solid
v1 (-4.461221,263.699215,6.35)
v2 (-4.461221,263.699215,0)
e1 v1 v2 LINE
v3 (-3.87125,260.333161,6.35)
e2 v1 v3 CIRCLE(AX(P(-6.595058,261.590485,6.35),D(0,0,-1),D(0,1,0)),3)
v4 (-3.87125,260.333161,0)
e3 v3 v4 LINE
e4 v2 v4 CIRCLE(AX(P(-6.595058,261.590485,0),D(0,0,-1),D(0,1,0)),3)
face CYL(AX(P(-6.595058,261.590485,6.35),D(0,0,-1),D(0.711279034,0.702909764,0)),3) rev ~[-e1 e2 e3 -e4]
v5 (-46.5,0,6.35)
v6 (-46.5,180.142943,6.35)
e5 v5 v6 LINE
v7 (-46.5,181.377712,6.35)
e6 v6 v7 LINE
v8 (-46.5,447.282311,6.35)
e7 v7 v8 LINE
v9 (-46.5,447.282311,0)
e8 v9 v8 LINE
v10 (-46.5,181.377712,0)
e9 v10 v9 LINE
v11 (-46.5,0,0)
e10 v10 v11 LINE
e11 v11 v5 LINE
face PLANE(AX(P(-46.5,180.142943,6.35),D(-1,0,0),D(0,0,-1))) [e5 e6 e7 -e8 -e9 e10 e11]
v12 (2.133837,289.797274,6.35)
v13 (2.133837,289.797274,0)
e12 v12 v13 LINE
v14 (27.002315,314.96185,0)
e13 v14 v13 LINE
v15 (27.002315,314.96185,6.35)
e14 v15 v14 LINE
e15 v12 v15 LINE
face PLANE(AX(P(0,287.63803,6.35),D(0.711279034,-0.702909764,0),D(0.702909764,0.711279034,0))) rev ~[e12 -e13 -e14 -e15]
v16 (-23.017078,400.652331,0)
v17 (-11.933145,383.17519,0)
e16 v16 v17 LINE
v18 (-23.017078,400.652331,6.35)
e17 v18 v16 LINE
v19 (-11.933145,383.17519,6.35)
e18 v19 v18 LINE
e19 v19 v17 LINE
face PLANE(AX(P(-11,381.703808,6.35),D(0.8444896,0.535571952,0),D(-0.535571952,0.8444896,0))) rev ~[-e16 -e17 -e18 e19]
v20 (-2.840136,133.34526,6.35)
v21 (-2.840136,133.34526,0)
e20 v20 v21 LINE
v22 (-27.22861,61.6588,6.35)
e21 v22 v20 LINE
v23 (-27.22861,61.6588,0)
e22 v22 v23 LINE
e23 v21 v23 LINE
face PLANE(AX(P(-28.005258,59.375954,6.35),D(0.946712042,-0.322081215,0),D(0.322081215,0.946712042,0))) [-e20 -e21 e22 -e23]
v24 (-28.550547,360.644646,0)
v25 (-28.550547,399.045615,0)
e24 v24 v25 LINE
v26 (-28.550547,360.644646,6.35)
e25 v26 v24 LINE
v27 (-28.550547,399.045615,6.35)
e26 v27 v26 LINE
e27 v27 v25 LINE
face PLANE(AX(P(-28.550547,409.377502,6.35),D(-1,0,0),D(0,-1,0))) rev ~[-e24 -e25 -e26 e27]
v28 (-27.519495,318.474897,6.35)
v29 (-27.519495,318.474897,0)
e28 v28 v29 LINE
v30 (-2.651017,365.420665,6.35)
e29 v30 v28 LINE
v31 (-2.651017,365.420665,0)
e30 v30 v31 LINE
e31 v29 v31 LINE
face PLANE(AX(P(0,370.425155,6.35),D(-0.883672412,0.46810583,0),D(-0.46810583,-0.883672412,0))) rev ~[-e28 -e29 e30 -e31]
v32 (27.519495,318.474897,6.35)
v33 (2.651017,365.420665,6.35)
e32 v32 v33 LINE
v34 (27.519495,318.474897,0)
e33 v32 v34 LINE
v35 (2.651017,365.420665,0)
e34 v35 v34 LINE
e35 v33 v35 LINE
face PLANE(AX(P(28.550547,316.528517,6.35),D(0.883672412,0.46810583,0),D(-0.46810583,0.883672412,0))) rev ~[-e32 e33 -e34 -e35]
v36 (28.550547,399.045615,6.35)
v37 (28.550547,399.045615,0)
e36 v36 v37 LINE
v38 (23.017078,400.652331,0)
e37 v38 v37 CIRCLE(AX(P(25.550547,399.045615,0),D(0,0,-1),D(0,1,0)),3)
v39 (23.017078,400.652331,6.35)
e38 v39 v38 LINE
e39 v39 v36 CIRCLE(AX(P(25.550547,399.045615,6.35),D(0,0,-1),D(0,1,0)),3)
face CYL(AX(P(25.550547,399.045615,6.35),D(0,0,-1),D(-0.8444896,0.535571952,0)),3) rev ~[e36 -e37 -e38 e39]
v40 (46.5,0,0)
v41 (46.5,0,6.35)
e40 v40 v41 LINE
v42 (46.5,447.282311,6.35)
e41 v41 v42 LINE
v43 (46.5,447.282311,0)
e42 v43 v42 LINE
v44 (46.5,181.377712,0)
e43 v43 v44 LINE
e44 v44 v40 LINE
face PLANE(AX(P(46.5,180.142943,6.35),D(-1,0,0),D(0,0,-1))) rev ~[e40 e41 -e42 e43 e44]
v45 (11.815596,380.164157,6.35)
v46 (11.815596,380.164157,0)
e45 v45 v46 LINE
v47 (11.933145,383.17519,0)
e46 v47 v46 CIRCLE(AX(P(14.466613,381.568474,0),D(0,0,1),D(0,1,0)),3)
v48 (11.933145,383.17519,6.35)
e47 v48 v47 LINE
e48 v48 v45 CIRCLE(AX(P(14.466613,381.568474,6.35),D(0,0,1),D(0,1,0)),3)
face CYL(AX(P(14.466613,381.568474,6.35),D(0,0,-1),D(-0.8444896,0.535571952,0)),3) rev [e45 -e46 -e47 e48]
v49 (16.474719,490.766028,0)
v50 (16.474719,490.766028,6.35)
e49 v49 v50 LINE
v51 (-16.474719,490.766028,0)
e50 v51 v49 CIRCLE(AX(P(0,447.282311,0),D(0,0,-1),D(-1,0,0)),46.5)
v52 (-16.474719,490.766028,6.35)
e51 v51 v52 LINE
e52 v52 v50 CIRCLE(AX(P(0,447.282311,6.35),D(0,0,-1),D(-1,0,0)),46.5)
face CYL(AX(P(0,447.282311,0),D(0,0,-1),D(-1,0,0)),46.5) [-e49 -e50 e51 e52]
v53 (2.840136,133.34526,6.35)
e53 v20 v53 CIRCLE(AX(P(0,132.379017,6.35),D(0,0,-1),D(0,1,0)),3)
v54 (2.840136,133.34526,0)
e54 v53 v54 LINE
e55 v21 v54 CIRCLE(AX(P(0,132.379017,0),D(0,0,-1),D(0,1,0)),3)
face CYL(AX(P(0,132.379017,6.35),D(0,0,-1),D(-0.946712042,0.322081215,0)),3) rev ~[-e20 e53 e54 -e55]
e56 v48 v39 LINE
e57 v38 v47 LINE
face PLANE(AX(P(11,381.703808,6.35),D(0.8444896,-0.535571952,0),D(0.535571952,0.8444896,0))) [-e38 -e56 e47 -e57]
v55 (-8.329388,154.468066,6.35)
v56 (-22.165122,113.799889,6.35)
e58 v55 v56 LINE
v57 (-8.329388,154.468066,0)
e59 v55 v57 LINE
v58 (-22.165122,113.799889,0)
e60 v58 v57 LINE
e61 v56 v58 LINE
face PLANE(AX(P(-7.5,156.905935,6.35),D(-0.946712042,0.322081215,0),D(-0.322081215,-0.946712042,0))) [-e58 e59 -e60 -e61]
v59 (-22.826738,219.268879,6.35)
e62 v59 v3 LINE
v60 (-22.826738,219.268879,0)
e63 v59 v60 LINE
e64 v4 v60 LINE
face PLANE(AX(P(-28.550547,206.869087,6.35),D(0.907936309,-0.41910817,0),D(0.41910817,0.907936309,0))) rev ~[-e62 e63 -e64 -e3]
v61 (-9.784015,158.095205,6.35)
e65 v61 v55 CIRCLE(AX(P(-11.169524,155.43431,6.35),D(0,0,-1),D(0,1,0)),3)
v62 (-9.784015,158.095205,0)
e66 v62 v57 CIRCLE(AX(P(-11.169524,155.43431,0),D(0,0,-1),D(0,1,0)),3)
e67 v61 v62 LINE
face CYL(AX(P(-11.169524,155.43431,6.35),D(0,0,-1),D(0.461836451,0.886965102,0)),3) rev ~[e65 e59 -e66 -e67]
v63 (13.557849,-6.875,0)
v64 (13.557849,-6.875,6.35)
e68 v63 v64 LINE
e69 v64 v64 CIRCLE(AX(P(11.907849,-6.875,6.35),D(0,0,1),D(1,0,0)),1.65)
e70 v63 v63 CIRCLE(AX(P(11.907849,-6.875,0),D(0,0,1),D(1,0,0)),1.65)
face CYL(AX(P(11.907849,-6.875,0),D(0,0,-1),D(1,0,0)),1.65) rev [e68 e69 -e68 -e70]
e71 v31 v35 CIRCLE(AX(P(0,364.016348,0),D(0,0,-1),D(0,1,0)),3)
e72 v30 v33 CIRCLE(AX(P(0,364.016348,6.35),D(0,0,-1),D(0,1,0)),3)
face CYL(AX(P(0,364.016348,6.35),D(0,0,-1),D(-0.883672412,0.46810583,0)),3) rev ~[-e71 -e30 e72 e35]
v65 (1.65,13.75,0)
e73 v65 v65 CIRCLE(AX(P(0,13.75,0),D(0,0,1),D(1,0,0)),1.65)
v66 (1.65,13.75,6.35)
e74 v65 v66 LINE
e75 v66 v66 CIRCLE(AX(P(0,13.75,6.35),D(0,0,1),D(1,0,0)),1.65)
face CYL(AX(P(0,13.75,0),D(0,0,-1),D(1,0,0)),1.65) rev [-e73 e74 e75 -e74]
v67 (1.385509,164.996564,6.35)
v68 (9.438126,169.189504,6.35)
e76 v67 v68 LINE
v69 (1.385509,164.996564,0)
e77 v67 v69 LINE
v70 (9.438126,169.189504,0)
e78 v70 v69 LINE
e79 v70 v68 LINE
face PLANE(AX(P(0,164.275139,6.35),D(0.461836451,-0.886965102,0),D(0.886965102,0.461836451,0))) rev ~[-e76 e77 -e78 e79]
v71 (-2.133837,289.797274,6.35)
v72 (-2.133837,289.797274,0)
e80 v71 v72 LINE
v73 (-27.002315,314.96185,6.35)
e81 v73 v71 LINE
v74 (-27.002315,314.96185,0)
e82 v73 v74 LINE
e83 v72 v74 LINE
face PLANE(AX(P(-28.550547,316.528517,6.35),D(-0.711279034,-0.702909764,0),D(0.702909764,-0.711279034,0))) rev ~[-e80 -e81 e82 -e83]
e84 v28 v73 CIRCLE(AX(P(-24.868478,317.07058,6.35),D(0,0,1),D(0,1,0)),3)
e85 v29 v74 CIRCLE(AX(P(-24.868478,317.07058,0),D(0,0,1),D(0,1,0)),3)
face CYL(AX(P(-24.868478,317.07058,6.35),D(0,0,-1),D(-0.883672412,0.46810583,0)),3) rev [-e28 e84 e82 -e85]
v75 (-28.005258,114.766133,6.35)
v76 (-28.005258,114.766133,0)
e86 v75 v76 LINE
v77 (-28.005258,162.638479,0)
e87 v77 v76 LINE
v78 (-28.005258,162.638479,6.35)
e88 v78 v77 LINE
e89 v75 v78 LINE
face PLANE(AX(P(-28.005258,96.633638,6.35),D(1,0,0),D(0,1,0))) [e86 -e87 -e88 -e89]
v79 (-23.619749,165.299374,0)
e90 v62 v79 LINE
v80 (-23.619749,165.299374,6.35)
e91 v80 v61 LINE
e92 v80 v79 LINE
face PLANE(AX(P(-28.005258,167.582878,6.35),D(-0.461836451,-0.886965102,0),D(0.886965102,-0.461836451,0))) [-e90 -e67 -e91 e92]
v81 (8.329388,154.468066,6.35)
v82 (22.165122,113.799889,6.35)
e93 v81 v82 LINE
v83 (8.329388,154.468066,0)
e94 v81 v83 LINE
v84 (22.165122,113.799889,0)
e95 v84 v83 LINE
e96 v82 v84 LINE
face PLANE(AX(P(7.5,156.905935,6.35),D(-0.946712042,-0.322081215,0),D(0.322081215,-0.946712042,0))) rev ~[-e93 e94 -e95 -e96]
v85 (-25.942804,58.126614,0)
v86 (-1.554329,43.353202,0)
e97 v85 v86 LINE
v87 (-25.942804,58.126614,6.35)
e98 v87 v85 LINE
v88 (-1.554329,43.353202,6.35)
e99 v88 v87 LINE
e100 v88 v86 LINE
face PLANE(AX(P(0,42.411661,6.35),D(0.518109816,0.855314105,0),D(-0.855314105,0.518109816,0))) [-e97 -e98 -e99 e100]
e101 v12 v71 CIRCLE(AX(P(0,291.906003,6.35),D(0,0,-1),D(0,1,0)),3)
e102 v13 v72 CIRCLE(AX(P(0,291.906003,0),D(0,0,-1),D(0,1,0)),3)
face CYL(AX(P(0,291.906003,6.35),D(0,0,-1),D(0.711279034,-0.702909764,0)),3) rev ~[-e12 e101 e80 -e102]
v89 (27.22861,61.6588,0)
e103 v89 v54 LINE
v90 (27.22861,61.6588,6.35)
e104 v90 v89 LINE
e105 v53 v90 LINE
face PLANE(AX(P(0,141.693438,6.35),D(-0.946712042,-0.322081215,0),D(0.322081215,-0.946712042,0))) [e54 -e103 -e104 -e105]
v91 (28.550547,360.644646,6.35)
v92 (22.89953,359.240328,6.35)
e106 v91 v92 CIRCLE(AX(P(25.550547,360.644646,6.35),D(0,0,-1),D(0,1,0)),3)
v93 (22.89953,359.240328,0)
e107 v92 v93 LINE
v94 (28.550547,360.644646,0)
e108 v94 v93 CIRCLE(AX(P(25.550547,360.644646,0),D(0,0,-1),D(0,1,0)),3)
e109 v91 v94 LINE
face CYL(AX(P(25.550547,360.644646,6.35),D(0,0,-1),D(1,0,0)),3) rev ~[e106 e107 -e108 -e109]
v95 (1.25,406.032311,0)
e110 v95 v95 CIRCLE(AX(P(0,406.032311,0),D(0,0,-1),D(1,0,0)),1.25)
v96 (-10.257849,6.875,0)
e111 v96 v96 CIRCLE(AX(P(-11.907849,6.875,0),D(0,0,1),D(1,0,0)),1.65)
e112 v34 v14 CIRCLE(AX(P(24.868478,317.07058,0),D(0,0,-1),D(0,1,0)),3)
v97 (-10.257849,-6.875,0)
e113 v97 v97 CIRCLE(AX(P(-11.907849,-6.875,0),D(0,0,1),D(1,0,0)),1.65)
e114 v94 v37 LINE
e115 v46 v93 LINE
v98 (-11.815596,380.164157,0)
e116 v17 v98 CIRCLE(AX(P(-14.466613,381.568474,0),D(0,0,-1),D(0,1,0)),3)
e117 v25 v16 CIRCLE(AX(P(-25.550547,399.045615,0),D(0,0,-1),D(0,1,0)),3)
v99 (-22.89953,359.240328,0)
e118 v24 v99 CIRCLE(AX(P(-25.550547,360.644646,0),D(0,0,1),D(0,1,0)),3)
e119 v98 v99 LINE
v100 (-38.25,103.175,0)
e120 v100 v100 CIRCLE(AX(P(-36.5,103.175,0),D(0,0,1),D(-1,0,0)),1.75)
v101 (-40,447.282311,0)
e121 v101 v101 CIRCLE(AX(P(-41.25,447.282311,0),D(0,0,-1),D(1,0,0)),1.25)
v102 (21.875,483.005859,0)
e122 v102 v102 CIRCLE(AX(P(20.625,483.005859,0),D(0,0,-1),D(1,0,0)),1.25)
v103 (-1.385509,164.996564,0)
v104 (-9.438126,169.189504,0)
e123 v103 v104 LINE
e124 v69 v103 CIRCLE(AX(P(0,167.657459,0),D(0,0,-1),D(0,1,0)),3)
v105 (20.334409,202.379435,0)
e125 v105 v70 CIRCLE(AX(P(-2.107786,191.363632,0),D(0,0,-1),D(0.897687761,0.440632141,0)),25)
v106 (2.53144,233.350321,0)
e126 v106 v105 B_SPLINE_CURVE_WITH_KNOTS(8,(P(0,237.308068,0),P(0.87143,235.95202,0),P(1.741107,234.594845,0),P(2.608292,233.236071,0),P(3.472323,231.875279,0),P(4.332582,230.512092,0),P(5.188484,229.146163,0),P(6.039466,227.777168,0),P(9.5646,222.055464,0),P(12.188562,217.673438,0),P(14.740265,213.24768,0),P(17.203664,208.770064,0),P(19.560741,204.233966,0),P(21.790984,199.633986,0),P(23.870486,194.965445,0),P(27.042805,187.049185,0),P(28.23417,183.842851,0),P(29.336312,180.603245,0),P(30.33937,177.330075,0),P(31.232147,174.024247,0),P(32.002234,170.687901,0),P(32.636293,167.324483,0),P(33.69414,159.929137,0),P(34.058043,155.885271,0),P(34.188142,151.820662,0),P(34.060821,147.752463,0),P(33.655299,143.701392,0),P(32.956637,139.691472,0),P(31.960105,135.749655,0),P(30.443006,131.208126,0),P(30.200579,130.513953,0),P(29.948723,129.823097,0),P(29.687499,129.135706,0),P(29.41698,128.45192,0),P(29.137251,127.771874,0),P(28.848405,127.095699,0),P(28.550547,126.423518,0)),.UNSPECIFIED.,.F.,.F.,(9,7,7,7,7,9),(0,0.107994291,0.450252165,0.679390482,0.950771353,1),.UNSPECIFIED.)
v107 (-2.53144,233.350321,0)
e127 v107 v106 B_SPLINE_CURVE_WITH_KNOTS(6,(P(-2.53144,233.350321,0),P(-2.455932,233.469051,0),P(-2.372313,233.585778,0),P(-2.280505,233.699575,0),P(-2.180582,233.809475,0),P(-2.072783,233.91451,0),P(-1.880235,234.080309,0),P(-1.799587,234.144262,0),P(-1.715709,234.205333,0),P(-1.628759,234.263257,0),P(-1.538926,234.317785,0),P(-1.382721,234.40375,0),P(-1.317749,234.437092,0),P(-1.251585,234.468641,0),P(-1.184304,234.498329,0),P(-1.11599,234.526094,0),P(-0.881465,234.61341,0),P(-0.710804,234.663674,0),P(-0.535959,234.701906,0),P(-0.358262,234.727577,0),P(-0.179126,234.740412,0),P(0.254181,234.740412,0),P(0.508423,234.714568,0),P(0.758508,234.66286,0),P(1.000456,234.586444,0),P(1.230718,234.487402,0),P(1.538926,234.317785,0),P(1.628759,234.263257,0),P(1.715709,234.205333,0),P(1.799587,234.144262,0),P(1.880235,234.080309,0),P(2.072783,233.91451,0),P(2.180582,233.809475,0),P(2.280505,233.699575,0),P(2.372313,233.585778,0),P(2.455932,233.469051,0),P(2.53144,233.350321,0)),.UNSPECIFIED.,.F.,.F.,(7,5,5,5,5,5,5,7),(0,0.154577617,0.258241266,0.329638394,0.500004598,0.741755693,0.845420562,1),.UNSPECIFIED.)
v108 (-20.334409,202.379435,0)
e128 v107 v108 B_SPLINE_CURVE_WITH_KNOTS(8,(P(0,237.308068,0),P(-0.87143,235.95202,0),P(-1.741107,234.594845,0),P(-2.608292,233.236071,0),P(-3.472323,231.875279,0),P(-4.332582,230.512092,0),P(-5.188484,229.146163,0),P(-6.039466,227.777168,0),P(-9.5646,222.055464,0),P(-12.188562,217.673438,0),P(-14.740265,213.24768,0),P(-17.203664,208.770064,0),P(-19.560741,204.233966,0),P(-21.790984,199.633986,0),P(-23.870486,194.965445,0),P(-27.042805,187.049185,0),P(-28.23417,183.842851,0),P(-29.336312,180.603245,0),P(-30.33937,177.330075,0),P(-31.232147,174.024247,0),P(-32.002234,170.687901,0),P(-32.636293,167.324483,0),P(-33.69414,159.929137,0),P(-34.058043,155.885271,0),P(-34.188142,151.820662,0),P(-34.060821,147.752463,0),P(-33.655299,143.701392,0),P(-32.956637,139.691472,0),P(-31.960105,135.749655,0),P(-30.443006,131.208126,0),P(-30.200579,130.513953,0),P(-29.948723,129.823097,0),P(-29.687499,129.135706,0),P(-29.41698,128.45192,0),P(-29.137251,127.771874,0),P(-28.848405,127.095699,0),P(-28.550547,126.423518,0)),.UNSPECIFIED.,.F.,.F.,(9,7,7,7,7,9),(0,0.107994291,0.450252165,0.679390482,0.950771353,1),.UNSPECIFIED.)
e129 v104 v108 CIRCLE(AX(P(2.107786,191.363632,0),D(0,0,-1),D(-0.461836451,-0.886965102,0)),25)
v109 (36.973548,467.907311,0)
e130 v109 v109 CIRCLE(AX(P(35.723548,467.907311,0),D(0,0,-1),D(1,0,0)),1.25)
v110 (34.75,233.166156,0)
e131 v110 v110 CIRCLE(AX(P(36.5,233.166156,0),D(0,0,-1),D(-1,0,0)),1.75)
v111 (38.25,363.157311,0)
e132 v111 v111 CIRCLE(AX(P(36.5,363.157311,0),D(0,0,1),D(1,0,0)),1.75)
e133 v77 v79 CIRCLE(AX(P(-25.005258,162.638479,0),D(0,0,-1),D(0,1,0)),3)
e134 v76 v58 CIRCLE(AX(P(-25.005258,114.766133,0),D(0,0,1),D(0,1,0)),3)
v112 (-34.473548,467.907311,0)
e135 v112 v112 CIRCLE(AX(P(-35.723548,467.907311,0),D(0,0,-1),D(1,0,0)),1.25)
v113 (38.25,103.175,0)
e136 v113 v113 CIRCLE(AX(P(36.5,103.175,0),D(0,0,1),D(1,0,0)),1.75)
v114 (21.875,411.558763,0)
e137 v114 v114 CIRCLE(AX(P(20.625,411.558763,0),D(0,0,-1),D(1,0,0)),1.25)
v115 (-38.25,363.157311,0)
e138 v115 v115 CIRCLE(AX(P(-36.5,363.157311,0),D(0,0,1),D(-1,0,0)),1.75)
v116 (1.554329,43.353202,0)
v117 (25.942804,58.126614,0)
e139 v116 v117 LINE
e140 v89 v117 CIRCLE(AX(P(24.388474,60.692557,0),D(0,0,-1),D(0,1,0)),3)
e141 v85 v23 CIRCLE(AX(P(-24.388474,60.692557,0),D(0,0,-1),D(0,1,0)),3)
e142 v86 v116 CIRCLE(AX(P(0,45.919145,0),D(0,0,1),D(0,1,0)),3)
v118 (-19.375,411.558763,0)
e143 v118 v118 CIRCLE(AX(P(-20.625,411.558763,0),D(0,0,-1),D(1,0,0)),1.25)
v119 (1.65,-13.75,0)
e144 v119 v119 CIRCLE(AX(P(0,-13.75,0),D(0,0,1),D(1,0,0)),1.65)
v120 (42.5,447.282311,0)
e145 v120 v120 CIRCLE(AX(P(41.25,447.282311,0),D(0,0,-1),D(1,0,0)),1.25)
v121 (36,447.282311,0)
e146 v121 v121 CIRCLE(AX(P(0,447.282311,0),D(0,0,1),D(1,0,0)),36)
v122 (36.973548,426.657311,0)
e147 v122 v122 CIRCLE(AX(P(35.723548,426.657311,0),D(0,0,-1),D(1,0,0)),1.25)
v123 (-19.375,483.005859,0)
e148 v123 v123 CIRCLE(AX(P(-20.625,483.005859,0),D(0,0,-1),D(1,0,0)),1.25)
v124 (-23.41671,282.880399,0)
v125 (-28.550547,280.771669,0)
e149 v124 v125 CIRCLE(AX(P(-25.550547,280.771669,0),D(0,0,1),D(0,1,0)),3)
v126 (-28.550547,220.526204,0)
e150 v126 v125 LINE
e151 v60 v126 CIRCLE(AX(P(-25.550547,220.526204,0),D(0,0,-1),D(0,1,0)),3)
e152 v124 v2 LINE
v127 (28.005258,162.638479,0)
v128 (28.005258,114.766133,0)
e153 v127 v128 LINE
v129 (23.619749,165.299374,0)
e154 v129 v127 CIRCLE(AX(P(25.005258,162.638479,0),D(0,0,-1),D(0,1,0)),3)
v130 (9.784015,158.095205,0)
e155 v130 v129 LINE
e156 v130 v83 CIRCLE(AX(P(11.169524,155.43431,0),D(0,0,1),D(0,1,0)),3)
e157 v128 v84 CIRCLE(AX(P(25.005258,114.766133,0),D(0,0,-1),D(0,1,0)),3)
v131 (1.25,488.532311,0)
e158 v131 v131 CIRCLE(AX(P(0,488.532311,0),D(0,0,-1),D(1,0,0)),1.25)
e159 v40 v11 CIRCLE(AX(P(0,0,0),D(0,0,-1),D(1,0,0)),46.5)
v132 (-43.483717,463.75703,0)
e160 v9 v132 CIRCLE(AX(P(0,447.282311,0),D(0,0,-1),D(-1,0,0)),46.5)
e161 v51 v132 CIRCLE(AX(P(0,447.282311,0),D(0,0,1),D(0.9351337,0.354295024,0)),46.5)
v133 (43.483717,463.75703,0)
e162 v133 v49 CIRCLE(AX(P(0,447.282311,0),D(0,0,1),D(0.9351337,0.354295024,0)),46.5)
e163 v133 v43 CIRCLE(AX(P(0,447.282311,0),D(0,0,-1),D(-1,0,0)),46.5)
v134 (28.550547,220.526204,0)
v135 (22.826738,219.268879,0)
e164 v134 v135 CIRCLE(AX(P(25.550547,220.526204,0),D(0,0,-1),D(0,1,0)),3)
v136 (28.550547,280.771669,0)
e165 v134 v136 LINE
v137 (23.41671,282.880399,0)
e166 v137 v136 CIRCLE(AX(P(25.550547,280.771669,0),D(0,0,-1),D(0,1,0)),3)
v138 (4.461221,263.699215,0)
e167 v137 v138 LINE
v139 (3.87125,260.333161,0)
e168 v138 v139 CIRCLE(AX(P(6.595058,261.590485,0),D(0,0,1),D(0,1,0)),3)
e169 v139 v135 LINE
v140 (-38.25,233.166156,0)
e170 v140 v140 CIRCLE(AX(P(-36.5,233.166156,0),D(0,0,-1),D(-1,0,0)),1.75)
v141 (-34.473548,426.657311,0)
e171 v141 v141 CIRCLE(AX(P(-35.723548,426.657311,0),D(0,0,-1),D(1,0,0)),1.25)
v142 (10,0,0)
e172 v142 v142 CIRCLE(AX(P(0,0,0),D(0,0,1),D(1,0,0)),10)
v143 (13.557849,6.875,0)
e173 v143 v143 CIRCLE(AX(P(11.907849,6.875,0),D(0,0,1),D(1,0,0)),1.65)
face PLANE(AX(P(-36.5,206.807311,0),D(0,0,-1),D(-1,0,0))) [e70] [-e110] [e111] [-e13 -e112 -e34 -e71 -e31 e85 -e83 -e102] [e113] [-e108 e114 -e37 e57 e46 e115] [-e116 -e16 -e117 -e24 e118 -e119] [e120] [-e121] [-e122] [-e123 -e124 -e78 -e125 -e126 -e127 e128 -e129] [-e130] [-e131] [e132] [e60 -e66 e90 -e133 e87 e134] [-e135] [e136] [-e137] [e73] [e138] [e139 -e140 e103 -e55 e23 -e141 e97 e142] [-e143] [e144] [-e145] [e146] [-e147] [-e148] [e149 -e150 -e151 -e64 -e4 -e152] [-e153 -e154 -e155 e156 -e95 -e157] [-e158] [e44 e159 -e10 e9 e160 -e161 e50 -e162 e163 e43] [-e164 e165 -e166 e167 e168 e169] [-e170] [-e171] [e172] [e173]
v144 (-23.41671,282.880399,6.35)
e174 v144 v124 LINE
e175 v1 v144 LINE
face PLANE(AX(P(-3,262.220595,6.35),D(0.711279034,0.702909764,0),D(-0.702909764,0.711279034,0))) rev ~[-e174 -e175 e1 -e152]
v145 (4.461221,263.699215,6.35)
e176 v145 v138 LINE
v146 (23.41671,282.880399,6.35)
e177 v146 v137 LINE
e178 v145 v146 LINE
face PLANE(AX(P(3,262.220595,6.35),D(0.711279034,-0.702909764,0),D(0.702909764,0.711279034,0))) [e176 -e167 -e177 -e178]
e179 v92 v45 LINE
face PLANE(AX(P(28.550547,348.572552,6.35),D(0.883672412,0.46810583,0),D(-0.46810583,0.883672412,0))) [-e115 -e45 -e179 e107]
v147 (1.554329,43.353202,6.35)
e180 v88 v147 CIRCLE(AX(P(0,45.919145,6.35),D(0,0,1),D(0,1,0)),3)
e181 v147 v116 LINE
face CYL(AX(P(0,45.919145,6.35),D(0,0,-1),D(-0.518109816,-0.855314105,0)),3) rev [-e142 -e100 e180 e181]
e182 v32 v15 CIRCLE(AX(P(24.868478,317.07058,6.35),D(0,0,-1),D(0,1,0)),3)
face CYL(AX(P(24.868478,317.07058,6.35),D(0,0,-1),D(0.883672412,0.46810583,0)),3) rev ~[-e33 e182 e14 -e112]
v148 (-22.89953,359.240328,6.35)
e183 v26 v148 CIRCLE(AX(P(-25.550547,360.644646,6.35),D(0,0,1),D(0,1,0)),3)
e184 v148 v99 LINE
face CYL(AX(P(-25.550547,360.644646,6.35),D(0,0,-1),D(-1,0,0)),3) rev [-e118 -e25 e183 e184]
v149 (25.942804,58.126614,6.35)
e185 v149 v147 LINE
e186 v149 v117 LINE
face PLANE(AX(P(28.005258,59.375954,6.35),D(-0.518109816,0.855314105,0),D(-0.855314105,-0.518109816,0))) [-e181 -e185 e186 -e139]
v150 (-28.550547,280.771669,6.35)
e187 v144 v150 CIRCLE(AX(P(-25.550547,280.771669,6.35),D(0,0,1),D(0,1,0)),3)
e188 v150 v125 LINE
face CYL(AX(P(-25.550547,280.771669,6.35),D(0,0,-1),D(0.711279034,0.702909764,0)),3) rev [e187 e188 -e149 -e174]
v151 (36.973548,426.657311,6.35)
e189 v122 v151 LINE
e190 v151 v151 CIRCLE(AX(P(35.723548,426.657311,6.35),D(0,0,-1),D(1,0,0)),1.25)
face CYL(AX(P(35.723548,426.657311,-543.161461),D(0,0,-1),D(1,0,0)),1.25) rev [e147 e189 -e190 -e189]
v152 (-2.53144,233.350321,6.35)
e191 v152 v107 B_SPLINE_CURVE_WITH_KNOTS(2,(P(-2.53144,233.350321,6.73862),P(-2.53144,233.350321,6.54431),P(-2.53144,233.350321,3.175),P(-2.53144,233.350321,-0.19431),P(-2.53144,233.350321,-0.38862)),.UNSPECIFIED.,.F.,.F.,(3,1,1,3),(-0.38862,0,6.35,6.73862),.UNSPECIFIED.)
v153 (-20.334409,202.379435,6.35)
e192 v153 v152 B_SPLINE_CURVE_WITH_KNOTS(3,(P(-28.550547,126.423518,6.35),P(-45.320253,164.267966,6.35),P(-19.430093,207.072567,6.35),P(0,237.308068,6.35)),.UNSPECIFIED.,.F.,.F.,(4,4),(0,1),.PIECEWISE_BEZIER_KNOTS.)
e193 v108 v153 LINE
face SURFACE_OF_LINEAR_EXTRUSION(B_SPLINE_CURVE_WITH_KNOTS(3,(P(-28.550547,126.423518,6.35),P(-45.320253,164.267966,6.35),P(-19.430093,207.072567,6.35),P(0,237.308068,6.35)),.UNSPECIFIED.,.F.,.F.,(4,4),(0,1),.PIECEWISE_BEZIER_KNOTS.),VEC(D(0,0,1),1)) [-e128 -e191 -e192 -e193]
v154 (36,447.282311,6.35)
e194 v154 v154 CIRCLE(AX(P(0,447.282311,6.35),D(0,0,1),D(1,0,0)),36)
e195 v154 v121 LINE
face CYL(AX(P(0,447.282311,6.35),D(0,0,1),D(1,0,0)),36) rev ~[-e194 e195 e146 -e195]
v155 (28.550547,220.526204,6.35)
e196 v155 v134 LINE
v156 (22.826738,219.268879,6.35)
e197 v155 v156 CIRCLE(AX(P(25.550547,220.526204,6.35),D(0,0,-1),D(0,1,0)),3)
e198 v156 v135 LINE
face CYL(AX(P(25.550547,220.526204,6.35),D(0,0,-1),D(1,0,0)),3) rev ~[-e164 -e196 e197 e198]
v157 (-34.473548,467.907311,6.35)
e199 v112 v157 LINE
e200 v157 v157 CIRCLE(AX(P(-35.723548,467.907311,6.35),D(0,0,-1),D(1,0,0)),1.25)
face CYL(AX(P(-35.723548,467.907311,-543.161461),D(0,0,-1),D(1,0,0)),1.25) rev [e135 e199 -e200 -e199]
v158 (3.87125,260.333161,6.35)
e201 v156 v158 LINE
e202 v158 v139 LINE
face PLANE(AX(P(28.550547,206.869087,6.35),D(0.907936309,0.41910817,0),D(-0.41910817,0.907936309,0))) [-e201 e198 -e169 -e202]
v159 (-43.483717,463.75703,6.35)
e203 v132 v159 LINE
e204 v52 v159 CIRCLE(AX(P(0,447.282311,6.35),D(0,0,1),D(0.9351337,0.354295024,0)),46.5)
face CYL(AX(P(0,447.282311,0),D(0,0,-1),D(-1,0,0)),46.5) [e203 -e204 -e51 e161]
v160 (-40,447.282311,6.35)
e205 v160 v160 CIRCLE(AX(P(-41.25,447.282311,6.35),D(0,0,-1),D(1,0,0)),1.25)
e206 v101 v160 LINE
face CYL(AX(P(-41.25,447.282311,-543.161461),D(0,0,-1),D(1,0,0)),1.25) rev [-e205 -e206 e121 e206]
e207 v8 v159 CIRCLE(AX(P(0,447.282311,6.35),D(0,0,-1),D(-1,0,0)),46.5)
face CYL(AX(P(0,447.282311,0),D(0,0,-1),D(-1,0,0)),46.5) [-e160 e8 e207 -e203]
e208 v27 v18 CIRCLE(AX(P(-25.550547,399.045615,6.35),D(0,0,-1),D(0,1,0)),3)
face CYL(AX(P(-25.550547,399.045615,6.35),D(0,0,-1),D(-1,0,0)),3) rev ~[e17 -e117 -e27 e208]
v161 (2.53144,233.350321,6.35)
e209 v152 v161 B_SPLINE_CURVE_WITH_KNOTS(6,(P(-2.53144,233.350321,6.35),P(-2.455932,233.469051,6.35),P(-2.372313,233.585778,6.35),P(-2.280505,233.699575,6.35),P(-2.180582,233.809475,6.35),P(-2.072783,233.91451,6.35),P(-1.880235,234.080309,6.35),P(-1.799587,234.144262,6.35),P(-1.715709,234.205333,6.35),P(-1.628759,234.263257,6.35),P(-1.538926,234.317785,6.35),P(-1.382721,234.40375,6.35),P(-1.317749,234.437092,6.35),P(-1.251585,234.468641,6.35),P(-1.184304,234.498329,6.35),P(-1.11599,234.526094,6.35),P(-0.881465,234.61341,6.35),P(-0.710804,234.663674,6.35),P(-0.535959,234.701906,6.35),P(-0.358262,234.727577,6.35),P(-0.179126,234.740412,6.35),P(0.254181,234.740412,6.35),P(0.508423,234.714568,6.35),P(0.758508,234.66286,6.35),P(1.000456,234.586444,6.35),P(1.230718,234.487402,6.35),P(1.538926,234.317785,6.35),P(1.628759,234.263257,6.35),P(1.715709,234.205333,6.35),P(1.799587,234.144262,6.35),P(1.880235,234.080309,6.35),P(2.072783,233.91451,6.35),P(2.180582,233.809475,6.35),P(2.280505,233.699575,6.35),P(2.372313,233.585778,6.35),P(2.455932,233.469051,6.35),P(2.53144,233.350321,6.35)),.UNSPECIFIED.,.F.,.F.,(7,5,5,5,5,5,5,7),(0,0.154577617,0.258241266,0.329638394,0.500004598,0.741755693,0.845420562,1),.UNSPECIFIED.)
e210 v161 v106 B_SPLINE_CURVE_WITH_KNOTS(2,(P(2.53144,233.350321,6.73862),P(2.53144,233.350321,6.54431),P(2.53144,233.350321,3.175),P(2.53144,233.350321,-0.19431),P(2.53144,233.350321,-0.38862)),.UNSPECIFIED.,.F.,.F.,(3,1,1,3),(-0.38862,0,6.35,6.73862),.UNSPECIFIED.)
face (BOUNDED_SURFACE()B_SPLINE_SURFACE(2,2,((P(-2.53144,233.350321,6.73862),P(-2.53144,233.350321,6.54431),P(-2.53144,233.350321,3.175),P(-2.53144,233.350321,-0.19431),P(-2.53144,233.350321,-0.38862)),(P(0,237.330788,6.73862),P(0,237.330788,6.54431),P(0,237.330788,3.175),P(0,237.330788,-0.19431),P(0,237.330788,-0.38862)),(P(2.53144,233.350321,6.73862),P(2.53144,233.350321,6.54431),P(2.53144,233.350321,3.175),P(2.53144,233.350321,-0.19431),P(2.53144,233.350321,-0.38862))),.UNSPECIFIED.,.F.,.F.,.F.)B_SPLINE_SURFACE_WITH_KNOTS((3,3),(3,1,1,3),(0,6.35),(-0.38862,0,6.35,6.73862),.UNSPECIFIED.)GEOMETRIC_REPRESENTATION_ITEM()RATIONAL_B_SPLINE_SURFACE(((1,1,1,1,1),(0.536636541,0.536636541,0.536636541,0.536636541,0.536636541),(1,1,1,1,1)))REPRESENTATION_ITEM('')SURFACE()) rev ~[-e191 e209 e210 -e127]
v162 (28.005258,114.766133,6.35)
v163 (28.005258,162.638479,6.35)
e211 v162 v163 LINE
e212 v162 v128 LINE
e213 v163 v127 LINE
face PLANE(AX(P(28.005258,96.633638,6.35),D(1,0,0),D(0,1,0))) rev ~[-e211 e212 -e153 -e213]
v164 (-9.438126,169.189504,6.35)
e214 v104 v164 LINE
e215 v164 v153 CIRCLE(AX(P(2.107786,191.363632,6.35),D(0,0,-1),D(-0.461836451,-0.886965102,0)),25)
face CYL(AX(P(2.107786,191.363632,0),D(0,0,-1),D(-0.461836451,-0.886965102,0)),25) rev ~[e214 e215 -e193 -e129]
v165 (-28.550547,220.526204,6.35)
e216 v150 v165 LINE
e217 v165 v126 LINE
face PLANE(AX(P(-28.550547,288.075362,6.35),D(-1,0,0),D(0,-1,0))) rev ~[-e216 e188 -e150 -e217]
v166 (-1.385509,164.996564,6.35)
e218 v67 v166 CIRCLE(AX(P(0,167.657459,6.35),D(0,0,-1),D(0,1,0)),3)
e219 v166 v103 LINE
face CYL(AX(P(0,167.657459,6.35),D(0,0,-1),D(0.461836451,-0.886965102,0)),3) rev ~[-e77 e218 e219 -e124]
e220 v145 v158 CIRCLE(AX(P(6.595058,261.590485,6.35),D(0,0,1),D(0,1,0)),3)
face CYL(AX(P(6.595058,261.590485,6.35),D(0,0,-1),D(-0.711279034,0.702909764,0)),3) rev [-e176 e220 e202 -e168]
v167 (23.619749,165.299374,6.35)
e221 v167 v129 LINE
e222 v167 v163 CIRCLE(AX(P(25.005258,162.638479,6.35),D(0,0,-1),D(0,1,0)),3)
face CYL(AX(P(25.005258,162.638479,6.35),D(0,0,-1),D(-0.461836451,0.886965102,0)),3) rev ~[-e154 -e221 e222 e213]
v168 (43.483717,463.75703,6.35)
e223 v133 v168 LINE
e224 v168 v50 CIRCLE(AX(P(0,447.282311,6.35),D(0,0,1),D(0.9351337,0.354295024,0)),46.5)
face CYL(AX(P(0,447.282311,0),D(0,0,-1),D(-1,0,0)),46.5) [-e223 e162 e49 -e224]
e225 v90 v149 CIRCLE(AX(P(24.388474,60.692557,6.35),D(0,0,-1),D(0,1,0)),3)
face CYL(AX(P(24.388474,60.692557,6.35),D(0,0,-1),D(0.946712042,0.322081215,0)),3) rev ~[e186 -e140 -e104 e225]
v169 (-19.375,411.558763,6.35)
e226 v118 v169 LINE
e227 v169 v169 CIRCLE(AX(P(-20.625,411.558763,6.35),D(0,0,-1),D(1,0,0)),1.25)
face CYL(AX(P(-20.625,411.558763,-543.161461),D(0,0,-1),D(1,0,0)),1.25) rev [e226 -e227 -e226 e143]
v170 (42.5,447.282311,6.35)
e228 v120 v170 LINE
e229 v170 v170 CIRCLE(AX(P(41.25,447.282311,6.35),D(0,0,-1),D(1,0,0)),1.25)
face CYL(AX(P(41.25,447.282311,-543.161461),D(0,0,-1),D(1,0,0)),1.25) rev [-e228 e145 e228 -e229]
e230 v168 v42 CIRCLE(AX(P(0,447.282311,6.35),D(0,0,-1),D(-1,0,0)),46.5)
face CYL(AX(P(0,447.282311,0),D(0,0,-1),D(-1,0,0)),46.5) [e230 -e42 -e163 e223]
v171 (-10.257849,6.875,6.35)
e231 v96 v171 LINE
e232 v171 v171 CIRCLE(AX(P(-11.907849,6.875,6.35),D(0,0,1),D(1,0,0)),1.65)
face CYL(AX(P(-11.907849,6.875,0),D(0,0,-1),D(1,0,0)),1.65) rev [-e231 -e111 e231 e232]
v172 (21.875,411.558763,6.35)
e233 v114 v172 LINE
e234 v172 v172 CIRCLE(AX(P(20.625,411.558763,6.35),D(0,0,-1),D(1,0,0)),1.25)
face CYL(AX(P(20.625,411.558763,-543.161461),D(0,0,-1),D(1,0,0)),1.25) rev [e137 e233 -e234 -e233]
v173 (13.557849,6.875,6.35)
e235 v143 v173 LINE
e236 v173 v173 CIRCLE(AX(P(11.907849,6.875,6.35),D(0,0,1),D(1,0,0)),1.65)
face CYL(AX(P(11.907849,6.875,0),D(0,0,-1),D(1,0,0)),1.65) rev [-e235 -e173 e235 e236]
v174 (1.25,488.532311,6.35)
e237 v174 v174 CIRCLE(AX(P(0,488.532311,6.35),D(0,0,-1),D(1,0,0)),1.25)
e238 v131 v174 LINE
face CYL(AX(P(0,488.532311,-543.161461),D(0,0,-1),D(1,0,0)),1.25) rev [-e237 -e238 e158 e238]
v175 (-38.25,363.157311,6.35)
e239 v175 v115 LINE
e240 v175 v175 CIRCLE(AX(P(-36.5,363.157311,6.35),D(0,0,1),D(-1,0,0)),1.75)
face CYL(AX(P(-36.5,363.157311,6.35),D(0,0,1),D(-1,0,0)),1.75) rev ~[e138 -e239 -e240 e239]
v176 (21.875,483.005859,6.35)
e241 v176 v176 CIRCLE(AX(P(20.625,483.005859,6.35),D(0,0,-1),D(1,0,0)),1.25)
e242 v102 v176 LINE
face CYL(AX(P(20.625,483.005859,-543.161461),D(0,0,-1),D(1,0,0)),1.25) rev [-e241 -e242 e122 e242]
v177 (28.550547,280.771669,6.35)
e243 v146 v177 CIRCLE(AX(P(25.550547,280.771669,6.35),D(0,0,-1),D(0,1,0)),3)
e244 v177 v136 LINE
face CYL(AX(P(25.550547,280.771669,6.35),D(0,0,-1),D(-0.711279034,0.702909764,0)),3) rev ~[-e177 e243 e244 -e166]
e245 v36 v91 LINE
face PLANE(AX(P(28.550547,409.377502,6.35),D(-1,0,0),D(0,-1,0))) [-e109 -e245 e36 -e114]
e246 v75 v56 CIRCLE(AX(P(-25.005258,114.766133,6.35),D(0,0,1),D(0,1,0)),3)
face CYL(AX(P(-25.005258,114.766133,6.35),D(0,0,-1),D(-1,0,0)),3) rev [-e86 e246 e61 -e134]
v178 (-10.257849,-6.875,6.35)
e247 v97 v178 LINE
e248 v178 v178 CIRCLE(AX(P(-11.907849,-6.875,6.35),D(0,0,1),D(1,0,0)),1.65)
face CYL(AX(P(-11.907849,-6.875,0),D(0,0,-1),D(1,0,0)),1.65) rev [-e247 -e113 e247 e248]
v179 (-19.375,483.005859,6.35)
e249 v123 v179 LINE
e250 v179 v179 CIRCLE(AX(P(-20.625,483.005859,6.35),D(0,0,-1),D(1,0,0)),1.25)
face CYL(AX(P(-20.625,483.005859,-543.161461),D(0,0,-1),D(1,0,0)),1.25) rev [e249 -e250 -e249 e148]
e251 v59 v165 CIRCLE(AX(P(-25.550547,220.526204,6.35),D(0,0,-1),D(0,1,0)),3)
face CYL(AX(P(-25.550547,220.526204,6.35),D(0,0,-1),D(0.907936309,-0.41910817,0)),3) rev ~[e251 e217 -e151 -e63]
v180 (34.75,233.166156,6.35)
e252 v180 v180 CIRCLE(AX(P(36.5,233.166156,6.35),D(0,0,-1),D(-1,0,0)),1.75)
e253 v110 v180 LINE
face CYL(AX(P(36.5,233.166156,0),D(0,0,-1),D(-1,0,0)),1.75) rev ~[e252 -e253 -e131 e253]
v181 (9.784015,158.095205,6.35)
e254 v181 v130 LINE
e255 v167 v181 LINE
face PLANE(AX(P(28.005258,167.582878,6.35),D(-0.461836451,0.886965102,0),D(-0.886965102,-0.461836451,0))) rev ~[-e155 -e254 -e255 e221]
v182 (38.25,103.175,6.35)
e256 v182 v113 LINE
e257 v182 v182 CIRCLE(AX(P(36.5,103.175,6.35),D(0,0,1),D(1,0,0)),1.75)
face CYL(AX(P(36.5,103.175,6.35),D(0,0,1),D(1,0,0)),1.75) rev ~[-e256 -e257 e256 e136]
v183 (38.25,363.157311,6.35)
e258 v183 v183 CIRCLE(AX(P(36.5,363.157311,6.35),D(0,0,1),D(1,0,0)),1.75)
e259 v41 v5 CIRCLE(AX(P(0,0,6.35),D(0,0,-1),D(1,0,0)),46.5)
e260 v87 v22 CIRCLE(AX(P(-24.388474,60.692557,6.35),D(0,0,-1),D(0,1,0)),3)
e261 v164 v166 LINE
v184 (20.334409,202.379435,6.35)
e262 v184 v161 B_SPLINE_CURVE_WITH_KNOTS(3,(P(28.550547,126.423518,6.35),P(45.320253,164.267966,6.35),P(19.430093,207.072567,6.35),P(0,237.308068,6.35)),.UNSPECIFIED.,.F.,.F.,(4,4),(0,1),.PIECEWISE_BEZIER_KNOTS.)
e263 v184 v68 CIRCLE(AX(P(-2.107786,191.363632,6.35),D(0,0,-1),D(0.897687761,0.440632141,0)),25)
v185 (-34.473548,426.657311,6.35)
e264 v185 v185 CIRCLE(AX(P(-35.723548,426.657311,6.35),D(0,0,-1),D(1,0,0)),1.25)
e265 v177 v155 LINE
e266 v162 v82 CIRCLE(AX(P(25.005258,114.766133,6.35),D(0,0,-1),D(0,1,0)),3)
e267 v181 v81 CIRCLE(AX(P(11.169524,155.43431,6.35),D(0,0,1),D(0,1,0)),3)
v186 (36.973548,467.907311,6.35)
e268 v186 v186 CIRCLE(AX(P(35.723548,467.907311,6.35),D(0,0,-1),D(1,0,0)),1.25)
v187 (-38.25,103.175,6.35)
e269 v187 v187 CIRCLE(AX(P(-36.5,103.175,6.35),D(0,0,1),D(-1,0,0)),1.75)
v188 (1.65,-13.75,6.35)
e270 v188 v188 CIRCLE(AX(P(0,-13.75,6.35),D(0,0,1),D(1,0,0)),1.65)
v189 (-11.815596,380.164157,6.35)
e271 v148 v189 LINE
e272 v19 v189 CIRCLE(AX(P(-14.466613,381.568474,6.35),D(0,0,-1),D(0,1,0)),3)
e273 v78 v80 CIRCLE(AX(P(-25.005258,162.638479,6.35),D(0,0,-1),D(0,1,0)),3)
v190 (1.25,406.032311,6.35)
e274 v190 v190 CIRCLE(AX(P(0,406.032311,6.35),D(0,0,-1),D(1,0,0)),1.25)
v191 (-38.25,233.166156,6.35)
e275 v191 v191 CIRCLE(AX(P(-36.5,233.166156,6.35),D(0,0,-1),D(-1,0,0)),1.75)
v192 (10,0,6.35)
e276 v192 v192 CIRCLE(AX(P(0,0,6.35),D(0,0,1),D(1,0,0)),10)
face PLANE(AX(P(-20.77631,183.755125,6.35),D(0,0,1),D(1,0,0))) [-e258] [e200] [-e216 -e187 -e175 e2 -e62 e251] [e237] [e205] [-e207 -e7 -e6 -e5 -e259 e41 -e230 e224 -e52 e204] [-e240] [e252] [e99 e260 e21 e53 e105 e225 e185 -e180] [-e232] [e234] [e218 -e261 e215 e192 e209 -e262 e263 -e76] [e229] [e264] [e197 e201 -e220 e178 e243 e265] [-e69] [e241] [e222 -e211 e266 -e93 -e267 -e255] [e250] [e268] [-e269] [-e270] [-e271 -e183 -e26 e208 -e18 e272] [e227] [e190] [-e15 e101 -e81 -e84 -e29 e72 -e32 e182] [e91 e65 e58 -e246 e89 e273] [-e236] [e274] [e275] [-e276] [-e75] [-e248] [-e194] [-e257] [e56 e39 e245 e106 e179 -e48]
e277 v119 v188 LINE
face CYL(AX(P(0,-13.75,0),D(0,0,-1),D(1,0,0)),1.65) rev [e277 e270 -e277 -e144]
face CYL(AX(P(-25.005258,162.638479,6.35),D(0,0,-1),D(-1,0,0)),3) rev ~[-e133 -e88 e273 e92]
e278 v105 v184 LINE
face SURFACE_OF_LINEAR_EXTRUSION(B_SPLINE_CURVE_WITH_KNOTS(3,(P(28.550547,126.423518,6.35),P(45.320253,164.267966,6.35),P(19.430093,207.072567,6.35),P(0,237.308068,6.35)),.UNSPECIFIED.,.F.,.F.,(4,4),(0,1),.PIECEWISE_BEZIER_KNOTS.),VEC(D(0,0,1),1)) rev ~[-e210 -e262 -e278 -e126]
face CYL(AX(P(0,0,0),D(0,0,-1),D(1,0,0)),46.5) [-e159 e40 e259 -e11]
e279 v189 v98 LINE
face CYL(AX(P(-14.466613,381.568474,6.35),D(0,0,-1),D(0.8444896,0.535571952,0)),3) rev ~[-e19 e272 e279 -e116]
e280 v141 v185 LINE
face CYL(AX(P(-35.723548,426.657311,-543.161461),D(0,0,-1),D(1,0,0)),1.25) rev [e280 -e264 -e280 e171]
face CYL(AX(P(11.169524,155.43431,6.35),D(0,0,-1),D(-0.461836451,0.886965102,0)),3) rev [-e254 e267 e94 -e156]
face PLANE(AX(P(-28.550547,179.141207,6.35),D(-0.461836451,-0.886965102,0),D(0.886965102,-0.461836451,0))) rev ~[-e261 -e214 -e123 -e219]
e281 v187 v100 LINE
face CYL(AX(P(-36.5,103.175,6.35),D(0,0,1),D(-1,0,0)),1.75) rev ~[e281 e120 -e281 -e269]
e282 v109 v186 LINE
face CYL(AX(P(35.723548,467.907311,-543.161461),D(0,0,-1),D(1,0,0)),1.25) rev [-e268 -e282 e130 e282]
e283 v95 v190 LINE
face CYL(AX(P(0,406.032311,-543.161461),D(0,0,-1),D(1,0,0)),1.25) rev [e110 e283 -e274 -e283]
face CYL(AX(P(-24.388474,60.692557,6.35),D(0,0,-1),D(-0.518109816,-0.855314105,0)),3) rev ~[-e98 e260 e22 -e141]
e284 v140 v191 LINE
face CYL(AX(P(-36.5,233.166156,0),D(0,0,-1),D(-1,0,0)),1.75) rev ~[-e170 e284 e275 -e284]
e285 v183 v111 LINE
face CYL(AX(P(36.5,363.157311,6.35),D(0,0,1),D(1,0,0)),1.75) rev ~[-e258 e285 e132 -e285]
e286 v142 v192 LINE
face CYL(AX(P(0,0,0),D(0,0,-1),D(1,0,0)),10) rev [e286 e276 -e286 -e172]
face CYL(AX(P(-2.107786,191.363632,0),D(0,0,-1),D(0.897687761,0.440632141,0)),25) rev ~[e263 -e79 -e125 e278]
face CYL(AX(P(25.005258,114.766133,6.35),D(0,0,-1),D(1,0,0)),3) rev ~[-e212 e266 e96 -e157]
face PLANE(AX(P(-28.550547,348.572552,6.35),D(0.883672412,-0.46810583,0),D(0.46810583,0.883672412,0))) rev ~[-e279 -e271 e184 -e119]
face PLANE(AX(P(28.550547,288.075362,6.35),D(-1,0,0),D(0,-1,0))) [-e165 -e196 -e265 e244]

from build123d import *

# Parameters (mm, degrees)
SKETCH2_R                            = 10
SKETCH2_R_2                          = 1.65
BOSS_EXTRUDE1_DEPTH                  = 6.35
CUT_EXTRUDE1_DEPTH                   = 10
FILLET3_R                            = 3
SKETCH5_R                            = 1.75
CUT_EXTRUDE2_DEPTH                   = 549.511460792
SKETCH6_R                            = 26.5
CUT_EXTRUDE3_DEPTH                   = 10
BOSS_EXTRUDE2_START                  = -6.35
BOSS_EXTRUDE2_DEPTH                  = 6.35
TAP_DRILL_FOR_M3X0_5_TAP1_AT_2_COUNT = 2
TAP_DRILL_FOR_M3X0_5_TAP1_AT_2_PITCH = 12
CIRPATTERN2_COUNT                    = 2
CIRPATTERN2_ANGLE                    = 90
CUT_EXTRUDE4_DEPTH                   = 549.511460792
SKETCH11_R                           = 36
CUT_EXTRUDE5_DEPTH                   = 549.511460792
CUT_EXTRUDE6_DEPTH                   = 549.511460792
CUT_EXTRUDE6_DEPTH_BACK              = 549.511460792
SKETCH12_R                           = 1.25
SKETCH13_W                           = 93
SKETCH13_H                           = 53.952458561
CUT_EXTRUDE7_DEPTH                   = 549.511460792
BOSS_EXTRUDE3_REACH                  = 319.131
SKETCH14_W                           = 17.515975695
SKETCH14_H                           = 6.35
BOSS_EXTRUDE4_DEPTH                  = 6.35
SKETCH16_R                           = 1.75
CUT_EXTRUDE8_DEPTH                   = 497.007604239
SKETCH17_R                           = 1.75
BOSS_EXTRUDE5_DEPTH                  = 6.35


with BuildPart() as part:
    # Sketch2 → Boss-Extrude1 (new body)
    with BuildSketch(Plane.XY):
        with BuildLine():
            Line((-46.5, 0), (-46.5, 500))
            ThreePointArc((-46.5, 500), (0, 546.5), (46.5, 500))
            Line((46.5, 500), (46.5, 0))
            ThreePointArc((46.5, 0), (0, -46.5), (-46.5, 0))
        make_face()
        Circle(SKETCH2_R, mode=Mode.SUBTRACT)
        with Locations((0, 13.75)):
            Circle(SKETCH2_R_2, mode=Mode.SUBTRACT)
        with Locations((11.907849302, 6.875)):
            Circle(SKETCH2_R_2, mode=Mode.SUBTRACT)
        with Locations((11.907849302, -6.875)):
            Circle(SKETCH2_R_2, mode=Mode.SUBTRACT)
        with Locations((0, -13.75)):
            Circle(SKETCH2_R_2, mode=Mode.SUBTRACT)
        with Locations((-11.907849302, -6.875)):
            Circle(SKETCH2_R_2, mode=Mode.SUBTRACT)
        with Locations((-11.907849302, 6.875)):
            Circle(SKETCH2_R_2, mode=Mode.SUBTRACT)
    extrude(amount=BOSS_EXTRUDE1_DEPTH)

    # Sketch4 → Cut-Extrude1 (cut)
    with BuildSketch(Plane.XY.offset(6.35)):
        Polygon((28.005258112, 59.37595418), (0, 42.411661153), (-28.005258112, 59.37595418), (0, 141.693437584), align=None)
        Polygon((-7.5, 156.905935087), (-28.005258112, 96.633637735), (-28.005258112, 167.582877854), align=None)
        Polygon((28.005258112, 167.582877854), (7.5, 156.905935087), (28.005258112, 96.633637735), align=None)
        with BuildLine():
            Line((0, 164.275138905), (28.550546746, 179.141206521))
            add(Edge.make_bspline(
                [(28.550546746, 179.141206521), (45.32025339, 216.985654627), (19.430092874, 259.790255689), (0, 290.025756679)],
                knots=[0, 0, 0, 0, 1, 1, 1, 1], degree=3))
            add(Edge.make_bspline(
                [(-28.550546746, 179.141206521), (-45.32025339, 216.985654627), (-19.430092874, 259.790255689), (0, 290.025756679)],
                knots=[0, 0, 0, 0, 1, 1, 1, 1], degree=3))
            Line((-28.550546746, 179.141206521), (0, 164.275138905))
        make_face()
        Polygon((28.550546746, 259.58677623), (3, 314.938284003), (28.550546746, 340.793051053), align=None)
        Polygon((-3, 314.938284003), (-28.550546746, 340.793051053), (-28.550546746, 259.58677623), align=None)
        Polygon((0, 423.142843498), (-28.550546746, 369.246205395), (0, 340.355718526), (28.550546746, 369.246205395), align=None)
        Polygon((-28.550546746, 462.095190817), (-28.550546746, 401.290241252), (-11, 434.421497018), align=None)
        Polygon((28.550546746, 401.290241252), (11, 434.421497018), (28.550546746, 462.095190817), align=None)
    extrude(amount=-CUT_EXTRUDE1_DEPTH, mode=Mode.SUBTRACT)

    # Fillet3
    fillet3_edges = [part.edges().sort_by_distance(p)[0] for p in [
        (-11, 434.421497018, 3.175),
        (-28.550546746, 401.290241252, 3.175),
        (28.550546746, 401.290241252, 3.175),
        (11, 434.421497018, 3.175),
        (28.550546746, 462.095190817, 3.175),
        (-28.550546746, 462.095190817, 3.175),
        (0, 423.142843498, 3.175),
        (-28.550546746, 369.246205395, 3.175),
        (28.550546746, 369.246205395, 3.175),
        (0, 340.355718526, 3.175),
        (28.550546746, 340.793051053, 3.175),
        (-28.550546746, 340.793051053, 3.175),
        (-3, 314.938284003, 3.175),
        (3, 314.938284003, 3.175),
        (28.550546746, 259.58677623, 3.175),
        (-28.550546746, 259.58677623, 3.175),
        (28.550546746, 179.141206521, 3.175),
        (0, 290.025756679, 3.175),
        (-28.550546746, 179.141206521, 3.175),
        (0, 164.275138905, 3.175),
        (-28.005258112, 96.633637735, 3.175),
        (28.005258112, 96.633637735, 3.175),
        (7.5, 156.905935087, 3.175),
        (-28.005258112, 167.582877854, 3.175),
        (28.005258112, 167.582877854, 3.175),
        (0, 141.693437584, 3.175),
        (28.005258112, 59.37595418, 3.175),
        (-28.005258112, 59.37595418, 3.175),
        (0, 42.411661153, 3.175),
        (-7.5, 156.905935087, 3.175),
    ]]
    fillet(fillet3_edges, radius=FILLET3_R)

    # Sketch5 → Cut-Extrude2 (cut, through all)
    with BuildSketch(Plane.XY.offset(6.35)):
        with Locations((36.5, 103.175)):
            Circle(SKETCH5_R)
        with Locations(Location((-36.5, 103.175, 0), (0, 0, 180))):
            Circle(SKETCH5_R)
        with Locations(Location((36.5, 259.525, 0), (0, 0, 180))):
            Circle(SKETCH5_R)
        with Locations((-36.5, 259.525)):
            Circle(SKETCH5_R)
        with Locations((36.5, 415.875)):
            Circle(SKETCH5_R)
        with Locations(Location((-36.5, 415.875, 0), (0, 0, 180))):
            Circle(SKETCH5_R)
    extrude(amount=-CUT_EXTRUDE2_DEPTH, mode=Mode.SUBTRACT)

    # Sketch6 → Cut-Extrude3 (cut)
    with BuildSketch(Plane.XY.offset(6.35)):
        with Locations((0, 500)):
            Circle(SKETCH6_R)
    extrude(amount=-CUT_EXTRUDE3_DEPTH, mode=Mode.SUBTRACT)

    # Sketch7 → Boss-Extrude2 (add)
    with BuildSketch(Plane.XY.offset(6.35).offset(BOSS_EXTRUDE2_START)):
        with BuildLine():
            Line((44.110383395, 529.968247771), (29.968247771, 544.110383395))
            ThreePointArc((29.968247771, 544.110383395), (23.286397782, 542.399293624), (16.474718596, 543.483717035))
            ThreePointArc((16.474718596, 543.483717035), (32.880465325, 532.880465325), (43.483717035, 516.474718596))
            ThreePointArc((43.483717035, 516.474718596), (42.399293624, 523.286397782), (44.110383395, 529.968247771))
        make_face()
    boss_extrude2 = extrude(amount=BOSS_EXTRUDE2_DEPTH)

    # Sketch9 → Tap Drill for M3x0.5 Tap1 (revolve, cut)
    with BuildSketch(Plane(origin=(32.796674896, 541.28195627, 3.175), x_dir=(-0.7071067811865481, 0.7071067811865469, 0), z_dir=(0, 0, 1))):
        Polygon((0, 0), (0, 5.751075774), (1.25, 5), (1.25, 0), align=None)
    tap_drill_for_m3x0_5_tap1 = revolve(axis=Axis((37.286802956, 545.772084331, 3.175), (-0.7071067811865468, -0.7071067811865482, 0)), mode=Mode.SUBTRACT)

    # Tap Drill for M3x0.5 Tap1 at 2: Tap Drill for M3x0.5 Tap1 ×2
    with Locations(*[Vector(0.7071067811865482, -0.7071067811865468, 0) * (i * TAP_DRILL_FOR_M3X0_5_TAP1_AT_2_PITCH) for i in range(1, TAP_DRILL_FOR_M3X0_5_TAP1_AT_2_COUNT)]):
        add(tap_drill_for_m3x0_5_tap1, mode=Mode.SUBTRACT)

    # CirPattern2: Boss-Extrude2, Tap Drill for M3x0.5 Tap1 ×2 about axis
    cirpattern2_axis = Axis((0, 500, 0), (0, 0, 1))
    add([boss_extrude2.rotate(cirpattern2_axis, i * CIRPATTERN2_ANGLE / (CIRPATTERN2_COUNT - 1)) for i in range(1, CIRPATTERN2_COUNT)])
    add([tap_drill_for_m3x0_5_tap1.rotate(cirpattern2_axis, i * CIRPATTERN2_ANGLE / (CIRPATTERN2_COUNT - 1)) for i in range(1, CIRPATTERN2_COUNT)], mode=Mode.SUBTRACT)

    # CirPattern2 copy 1 sketch → CirPattern2 copy 1 (revolve, cut)
    with BuildSketch(Plane(origin=(-32.796674896, 541.28195627, 3.175), x_dir=(-0.7071067811865445, -0.7071067811865506, 0), z_dir=(0, 0, 1))):
        Polygon((0, 0), (0, 5.751075774), (1.25, 5), (1.25, 0), align=None)
    revolve(axis=Axis((-37.286802956, 545.772084331, 3.175), (0.7071067811865507, -0.7071067811865444, 0)), mode=Mode.SUBTRACT)

    # Sketch10 → Cut-Extrude4 (cut, through all)
    with BuildSketch(Plane.XY.offset(6.35)):
        with BuildLine():
            Line((-43.483717035, 516.474718596), (-63.483717035, 516.474718596))
            ThreePointArc((-63.483717035, 516.474718596), (0, 565.586573942), (63.483717035, 516.474718596))
            Line((63.483717035, 516.474718596), (43.483717035, 516.474718596))
            ThreePointArc((43.483717035, 516.474718596), (0, 546.5), (-43.483717035, 516.474718596))
        make_face()
    extrude(amount=-CUT_EXTRUDE4_DEPTH, mode=Mode.SUBTRACT)

    # Sketch11 → Cut-Extrude5 (cut, through all)
    with BuildSketch(Plane.XY.offset(6.35)):
        with Locations((0, 500)):
            Circle(SKETCH11_R)
    extrude(amount=-CUT_EXTRUDE5_DEPTH, mode=Mode.SUBTRACT)

    # Sketch12 → Cut-Extrude6 (cut, two sides: drawn at the far end of the back side and taken through both)
    with BuildSketch(Plane.XY.offset(6.35).offset(-CUT_EXTRUDE6_DEPTH_BACK)):
        with Locations((0, 541.25)):
            Circle(SKETCH12_R)
        with Locations((20.625, 535.723547906)):
            Circle(SKETCH12_R)
        with Locations((35.723547906, 520.625)):
            Circle(SKETCH12_R)
        with Locations((41.25, 500)):
            Circle(SKETCH12_R)
        with Locations((35.723547906, 479.375)):
            Circle(SKETCH12_R)
        with Locations((20.625, 464.276452094)):
            Circle(SKETCH12_R)
        with Locations((0, 458.75)):
            Circle(SKETCH12_R)
        with Locations((-20.625, 464.276452094)):
            Circle(SKETCH12_R)
        with Locations((-35.723547906, 479.375)):
            Circle(SKETCH12_R)
        with Locations((-41.25, 500)):
            Circle(SKETCH12_R)
        with Locations((-35.723547906, 520.625)):
            Circle(SKETCH12_R)
        with Locations((-20.625, 535.723547906)):
            Circle(SKETCH12_R)
    extrude(amount=CUT_EXTRUDE6_DEPTH + CUT_EXTRUDE6_DEPTH_BACK, mode=Mode.SUBTRACT)

    # Sketch13 → Cut-Extrude7 (cut, through all)
    with BuildSketch(Plane(origin=(0, 0, 0), x_dir=(-1, 0, 0), z_dir=(0, 0, -1))):
        with Locations((0, 207.119171895)):
            Rectangle(SKETCH13_W, SKETCH13_H)
    extrude(amount=-CUT_EXTRUDE7_DEPTH, mode=Mode.SUBTRACT)


with BuildPart() as cut_extrude7_piece_1:
    # of the separate pieces the step leaves, piece 1, a body of its own (cut_extrude7_pieces)
    add(part.part.solids().sort_by_distance((46.5, 500, 0))[0])


with BuildPart() as cut_extrude7_piece_2:
    # of the separate pieces the step leaves, piece 2, a body of its own (cut_extrude7_pieces)
    add(part.part.solids().sort_by_distance((46.5, 180.142942614, 0))[0])


with BuildPart() as cut_extrude7_piece_1_1:
    # Body-Move/Copy1: moved
    add(cut_extrude7_piece_1.part.moved(Location((0, -52.7176888, 0))))

    # Boss-Extrude3: up to this face of the body (flat: up to its plane)
    boss_extrude3_end = Plane(cut_extrude7_piece_1_1.part.faces().sort_by_distance((37.742012152, 181.377712375, 3.175))[0])
    # Sketch14 → Boss-Extrude3 (add, up to the picked face)
    with BuildSketch(Plane(origin=(0, 180.142942614, 0), x_dir=(1, 0, 0), z_dir=(0, 1, 0)), mode=Mode.PRIVATE) as boss_extrude3_sk1:
        with Locations((-37.742012153, -3.175)):
            Rectangle(SKETCH14_W, SKETCH14_H)
    boss_extrude3_tool1 = split(extrude(boss_extrude3_sk1.sketch, amount=BOSS_EXTRUDE3_REACH, mode=Mode.PRIVATE), bisect_by=boss_extrude3_end, keep=Keep.BOTH, mode=Mode.PRIVATE)
    # Sketch14 → Boss-Extrude3 (add, up to the picked face)
    with BuildSketch(Plane(origin=(0, 180.142942614, 0), x_dir=(1, 0, 0), z_dir=(0, 1, 0)), mode=Mode.PRIVATE) as boss_extrude3_sk2:
        with Locations((37.742012153, -3.175)):
            Rectangle(SKETCH14_W, SKETCH14_H)
    boss_extrude3_tool2 = split(extrude(boss_extrude3_sk2.sketch, amount=BOSS_EXTRUDE3_REACH, mode=Mode.PRIVATE), bisect_by=boss_extrude3_end, keep=Keep.BOTH, mode=Mode.PRIVATE)

    add(cut_extrude7_piece_2.part)  # Boss-Extrude3 merges Cut-Extrude7 piece 2
    add(boss_extrude3_tool1.solids().sort_by(Axis((-37.742012, 180.142943, 3.175), (0, 1, 0)))[0])
    add(boss_extrude3_tool2.solids().sort_by(Axis((37.742012, 180.142943, 3.175), (0, 1, 0)))[0])

    # Sketch15 → Boss-Extrude4 (add)
    with BuildSketch(Plane(origin=(0, 0, 0), x_dir=(-1, 0, 0), z_dir=(0, 0, -1))):
        with BuildLine():
            Line((28.984024305, 181.377712375), (28.984024305, 180.142942614))
            ThreePointArc((28.984024305, 180.142942614), (28.425309599, 179.275911344), (27.605954054, 178.649363792))
            Line((27.605954054, 178.649363792), (9.43812576, 169.189504186))
            ThreePointArc((9.43812576, 169.189504186), (21.644913421, 183.565600372), (20.334408511, 202.379435266))
            add(Edge.make_bspline(
                [(28.984024305, 181.377712375), (26.665870811, 188.528361062), (23.678798122, 195.56600215), (20.334408511, 202.379435266)],
                knots=[0.471090389, 0.471090389, 0.471090389, 0.471090389, 0.656207947, 0.656207947, 0.656207947, 0.656207947], degree=3))
        make_face()
        with BuildLine():
            Line((-9.43812576, 169.189504186), (-27.605954054, 178.649363792))
            ThreePointArc((-27.605954054, 178.649363792), (-28.425309599, 179.275911344), (-28.984024305, 180.142942614))
            Line((-28.984024305, 180.142942614), (-28.984024304, 181.377712375))
            add(Edge.make_bspline(
                [(-28.984024304, 181.377712375), (-26.665870811, 188.528361062), (-23.678798122, 195.56600215), (-20.334408511, 202.379435266)],
                knots=[0.471090389, 0.471090389, 0.471090389, 0.471090389, 0.656207947, 0.656207947, 0.656207947, 0.656207947], degree=3))
            ThreePointArc((-20.334408511, 202.379435266), (-21.644913421, 183.565600372), (-9.43812576, 169.189504186))
        make_face()
    extrude(amount=-BOSS_EXTRUDE4_DEPTH)

    # Sketch16 → Cut-Extrude8 (cut, through all)
    with BuildSketch(Plane(origin=(0, 0, 0), x_dir=(-1, 0, 0), z_dir=(0, 0, -1))):
        with Locations((36.5, 233.1661556)):
            Circle(SKETCH16_R)
        with Locations((-36.5, 233.1661556)):
            Circle(SKETCH16_R)
    extrude(amount=-CUT_EXTRUDE8_DEPTH, mode=Mode.SUBTRACT)

    # Sketch17 → Boss-Extrude5 (add)
    with BuildSketch(Plane(origin=(0, 0, 0), x_dir=(-1, 0, 0), z_dir=(0, 0, -1))):
        with Locations((36.5, 206.8073112)):
            Circle(SKETCH17_R)
        with Locations((-36.5, 206.8073112)):
            Circle(SKETCH17_R)
    extrude(amount=-BOSS_EXTRUDE5_DEPTH)


solid = cut_extrude7_piece_1_1.part
